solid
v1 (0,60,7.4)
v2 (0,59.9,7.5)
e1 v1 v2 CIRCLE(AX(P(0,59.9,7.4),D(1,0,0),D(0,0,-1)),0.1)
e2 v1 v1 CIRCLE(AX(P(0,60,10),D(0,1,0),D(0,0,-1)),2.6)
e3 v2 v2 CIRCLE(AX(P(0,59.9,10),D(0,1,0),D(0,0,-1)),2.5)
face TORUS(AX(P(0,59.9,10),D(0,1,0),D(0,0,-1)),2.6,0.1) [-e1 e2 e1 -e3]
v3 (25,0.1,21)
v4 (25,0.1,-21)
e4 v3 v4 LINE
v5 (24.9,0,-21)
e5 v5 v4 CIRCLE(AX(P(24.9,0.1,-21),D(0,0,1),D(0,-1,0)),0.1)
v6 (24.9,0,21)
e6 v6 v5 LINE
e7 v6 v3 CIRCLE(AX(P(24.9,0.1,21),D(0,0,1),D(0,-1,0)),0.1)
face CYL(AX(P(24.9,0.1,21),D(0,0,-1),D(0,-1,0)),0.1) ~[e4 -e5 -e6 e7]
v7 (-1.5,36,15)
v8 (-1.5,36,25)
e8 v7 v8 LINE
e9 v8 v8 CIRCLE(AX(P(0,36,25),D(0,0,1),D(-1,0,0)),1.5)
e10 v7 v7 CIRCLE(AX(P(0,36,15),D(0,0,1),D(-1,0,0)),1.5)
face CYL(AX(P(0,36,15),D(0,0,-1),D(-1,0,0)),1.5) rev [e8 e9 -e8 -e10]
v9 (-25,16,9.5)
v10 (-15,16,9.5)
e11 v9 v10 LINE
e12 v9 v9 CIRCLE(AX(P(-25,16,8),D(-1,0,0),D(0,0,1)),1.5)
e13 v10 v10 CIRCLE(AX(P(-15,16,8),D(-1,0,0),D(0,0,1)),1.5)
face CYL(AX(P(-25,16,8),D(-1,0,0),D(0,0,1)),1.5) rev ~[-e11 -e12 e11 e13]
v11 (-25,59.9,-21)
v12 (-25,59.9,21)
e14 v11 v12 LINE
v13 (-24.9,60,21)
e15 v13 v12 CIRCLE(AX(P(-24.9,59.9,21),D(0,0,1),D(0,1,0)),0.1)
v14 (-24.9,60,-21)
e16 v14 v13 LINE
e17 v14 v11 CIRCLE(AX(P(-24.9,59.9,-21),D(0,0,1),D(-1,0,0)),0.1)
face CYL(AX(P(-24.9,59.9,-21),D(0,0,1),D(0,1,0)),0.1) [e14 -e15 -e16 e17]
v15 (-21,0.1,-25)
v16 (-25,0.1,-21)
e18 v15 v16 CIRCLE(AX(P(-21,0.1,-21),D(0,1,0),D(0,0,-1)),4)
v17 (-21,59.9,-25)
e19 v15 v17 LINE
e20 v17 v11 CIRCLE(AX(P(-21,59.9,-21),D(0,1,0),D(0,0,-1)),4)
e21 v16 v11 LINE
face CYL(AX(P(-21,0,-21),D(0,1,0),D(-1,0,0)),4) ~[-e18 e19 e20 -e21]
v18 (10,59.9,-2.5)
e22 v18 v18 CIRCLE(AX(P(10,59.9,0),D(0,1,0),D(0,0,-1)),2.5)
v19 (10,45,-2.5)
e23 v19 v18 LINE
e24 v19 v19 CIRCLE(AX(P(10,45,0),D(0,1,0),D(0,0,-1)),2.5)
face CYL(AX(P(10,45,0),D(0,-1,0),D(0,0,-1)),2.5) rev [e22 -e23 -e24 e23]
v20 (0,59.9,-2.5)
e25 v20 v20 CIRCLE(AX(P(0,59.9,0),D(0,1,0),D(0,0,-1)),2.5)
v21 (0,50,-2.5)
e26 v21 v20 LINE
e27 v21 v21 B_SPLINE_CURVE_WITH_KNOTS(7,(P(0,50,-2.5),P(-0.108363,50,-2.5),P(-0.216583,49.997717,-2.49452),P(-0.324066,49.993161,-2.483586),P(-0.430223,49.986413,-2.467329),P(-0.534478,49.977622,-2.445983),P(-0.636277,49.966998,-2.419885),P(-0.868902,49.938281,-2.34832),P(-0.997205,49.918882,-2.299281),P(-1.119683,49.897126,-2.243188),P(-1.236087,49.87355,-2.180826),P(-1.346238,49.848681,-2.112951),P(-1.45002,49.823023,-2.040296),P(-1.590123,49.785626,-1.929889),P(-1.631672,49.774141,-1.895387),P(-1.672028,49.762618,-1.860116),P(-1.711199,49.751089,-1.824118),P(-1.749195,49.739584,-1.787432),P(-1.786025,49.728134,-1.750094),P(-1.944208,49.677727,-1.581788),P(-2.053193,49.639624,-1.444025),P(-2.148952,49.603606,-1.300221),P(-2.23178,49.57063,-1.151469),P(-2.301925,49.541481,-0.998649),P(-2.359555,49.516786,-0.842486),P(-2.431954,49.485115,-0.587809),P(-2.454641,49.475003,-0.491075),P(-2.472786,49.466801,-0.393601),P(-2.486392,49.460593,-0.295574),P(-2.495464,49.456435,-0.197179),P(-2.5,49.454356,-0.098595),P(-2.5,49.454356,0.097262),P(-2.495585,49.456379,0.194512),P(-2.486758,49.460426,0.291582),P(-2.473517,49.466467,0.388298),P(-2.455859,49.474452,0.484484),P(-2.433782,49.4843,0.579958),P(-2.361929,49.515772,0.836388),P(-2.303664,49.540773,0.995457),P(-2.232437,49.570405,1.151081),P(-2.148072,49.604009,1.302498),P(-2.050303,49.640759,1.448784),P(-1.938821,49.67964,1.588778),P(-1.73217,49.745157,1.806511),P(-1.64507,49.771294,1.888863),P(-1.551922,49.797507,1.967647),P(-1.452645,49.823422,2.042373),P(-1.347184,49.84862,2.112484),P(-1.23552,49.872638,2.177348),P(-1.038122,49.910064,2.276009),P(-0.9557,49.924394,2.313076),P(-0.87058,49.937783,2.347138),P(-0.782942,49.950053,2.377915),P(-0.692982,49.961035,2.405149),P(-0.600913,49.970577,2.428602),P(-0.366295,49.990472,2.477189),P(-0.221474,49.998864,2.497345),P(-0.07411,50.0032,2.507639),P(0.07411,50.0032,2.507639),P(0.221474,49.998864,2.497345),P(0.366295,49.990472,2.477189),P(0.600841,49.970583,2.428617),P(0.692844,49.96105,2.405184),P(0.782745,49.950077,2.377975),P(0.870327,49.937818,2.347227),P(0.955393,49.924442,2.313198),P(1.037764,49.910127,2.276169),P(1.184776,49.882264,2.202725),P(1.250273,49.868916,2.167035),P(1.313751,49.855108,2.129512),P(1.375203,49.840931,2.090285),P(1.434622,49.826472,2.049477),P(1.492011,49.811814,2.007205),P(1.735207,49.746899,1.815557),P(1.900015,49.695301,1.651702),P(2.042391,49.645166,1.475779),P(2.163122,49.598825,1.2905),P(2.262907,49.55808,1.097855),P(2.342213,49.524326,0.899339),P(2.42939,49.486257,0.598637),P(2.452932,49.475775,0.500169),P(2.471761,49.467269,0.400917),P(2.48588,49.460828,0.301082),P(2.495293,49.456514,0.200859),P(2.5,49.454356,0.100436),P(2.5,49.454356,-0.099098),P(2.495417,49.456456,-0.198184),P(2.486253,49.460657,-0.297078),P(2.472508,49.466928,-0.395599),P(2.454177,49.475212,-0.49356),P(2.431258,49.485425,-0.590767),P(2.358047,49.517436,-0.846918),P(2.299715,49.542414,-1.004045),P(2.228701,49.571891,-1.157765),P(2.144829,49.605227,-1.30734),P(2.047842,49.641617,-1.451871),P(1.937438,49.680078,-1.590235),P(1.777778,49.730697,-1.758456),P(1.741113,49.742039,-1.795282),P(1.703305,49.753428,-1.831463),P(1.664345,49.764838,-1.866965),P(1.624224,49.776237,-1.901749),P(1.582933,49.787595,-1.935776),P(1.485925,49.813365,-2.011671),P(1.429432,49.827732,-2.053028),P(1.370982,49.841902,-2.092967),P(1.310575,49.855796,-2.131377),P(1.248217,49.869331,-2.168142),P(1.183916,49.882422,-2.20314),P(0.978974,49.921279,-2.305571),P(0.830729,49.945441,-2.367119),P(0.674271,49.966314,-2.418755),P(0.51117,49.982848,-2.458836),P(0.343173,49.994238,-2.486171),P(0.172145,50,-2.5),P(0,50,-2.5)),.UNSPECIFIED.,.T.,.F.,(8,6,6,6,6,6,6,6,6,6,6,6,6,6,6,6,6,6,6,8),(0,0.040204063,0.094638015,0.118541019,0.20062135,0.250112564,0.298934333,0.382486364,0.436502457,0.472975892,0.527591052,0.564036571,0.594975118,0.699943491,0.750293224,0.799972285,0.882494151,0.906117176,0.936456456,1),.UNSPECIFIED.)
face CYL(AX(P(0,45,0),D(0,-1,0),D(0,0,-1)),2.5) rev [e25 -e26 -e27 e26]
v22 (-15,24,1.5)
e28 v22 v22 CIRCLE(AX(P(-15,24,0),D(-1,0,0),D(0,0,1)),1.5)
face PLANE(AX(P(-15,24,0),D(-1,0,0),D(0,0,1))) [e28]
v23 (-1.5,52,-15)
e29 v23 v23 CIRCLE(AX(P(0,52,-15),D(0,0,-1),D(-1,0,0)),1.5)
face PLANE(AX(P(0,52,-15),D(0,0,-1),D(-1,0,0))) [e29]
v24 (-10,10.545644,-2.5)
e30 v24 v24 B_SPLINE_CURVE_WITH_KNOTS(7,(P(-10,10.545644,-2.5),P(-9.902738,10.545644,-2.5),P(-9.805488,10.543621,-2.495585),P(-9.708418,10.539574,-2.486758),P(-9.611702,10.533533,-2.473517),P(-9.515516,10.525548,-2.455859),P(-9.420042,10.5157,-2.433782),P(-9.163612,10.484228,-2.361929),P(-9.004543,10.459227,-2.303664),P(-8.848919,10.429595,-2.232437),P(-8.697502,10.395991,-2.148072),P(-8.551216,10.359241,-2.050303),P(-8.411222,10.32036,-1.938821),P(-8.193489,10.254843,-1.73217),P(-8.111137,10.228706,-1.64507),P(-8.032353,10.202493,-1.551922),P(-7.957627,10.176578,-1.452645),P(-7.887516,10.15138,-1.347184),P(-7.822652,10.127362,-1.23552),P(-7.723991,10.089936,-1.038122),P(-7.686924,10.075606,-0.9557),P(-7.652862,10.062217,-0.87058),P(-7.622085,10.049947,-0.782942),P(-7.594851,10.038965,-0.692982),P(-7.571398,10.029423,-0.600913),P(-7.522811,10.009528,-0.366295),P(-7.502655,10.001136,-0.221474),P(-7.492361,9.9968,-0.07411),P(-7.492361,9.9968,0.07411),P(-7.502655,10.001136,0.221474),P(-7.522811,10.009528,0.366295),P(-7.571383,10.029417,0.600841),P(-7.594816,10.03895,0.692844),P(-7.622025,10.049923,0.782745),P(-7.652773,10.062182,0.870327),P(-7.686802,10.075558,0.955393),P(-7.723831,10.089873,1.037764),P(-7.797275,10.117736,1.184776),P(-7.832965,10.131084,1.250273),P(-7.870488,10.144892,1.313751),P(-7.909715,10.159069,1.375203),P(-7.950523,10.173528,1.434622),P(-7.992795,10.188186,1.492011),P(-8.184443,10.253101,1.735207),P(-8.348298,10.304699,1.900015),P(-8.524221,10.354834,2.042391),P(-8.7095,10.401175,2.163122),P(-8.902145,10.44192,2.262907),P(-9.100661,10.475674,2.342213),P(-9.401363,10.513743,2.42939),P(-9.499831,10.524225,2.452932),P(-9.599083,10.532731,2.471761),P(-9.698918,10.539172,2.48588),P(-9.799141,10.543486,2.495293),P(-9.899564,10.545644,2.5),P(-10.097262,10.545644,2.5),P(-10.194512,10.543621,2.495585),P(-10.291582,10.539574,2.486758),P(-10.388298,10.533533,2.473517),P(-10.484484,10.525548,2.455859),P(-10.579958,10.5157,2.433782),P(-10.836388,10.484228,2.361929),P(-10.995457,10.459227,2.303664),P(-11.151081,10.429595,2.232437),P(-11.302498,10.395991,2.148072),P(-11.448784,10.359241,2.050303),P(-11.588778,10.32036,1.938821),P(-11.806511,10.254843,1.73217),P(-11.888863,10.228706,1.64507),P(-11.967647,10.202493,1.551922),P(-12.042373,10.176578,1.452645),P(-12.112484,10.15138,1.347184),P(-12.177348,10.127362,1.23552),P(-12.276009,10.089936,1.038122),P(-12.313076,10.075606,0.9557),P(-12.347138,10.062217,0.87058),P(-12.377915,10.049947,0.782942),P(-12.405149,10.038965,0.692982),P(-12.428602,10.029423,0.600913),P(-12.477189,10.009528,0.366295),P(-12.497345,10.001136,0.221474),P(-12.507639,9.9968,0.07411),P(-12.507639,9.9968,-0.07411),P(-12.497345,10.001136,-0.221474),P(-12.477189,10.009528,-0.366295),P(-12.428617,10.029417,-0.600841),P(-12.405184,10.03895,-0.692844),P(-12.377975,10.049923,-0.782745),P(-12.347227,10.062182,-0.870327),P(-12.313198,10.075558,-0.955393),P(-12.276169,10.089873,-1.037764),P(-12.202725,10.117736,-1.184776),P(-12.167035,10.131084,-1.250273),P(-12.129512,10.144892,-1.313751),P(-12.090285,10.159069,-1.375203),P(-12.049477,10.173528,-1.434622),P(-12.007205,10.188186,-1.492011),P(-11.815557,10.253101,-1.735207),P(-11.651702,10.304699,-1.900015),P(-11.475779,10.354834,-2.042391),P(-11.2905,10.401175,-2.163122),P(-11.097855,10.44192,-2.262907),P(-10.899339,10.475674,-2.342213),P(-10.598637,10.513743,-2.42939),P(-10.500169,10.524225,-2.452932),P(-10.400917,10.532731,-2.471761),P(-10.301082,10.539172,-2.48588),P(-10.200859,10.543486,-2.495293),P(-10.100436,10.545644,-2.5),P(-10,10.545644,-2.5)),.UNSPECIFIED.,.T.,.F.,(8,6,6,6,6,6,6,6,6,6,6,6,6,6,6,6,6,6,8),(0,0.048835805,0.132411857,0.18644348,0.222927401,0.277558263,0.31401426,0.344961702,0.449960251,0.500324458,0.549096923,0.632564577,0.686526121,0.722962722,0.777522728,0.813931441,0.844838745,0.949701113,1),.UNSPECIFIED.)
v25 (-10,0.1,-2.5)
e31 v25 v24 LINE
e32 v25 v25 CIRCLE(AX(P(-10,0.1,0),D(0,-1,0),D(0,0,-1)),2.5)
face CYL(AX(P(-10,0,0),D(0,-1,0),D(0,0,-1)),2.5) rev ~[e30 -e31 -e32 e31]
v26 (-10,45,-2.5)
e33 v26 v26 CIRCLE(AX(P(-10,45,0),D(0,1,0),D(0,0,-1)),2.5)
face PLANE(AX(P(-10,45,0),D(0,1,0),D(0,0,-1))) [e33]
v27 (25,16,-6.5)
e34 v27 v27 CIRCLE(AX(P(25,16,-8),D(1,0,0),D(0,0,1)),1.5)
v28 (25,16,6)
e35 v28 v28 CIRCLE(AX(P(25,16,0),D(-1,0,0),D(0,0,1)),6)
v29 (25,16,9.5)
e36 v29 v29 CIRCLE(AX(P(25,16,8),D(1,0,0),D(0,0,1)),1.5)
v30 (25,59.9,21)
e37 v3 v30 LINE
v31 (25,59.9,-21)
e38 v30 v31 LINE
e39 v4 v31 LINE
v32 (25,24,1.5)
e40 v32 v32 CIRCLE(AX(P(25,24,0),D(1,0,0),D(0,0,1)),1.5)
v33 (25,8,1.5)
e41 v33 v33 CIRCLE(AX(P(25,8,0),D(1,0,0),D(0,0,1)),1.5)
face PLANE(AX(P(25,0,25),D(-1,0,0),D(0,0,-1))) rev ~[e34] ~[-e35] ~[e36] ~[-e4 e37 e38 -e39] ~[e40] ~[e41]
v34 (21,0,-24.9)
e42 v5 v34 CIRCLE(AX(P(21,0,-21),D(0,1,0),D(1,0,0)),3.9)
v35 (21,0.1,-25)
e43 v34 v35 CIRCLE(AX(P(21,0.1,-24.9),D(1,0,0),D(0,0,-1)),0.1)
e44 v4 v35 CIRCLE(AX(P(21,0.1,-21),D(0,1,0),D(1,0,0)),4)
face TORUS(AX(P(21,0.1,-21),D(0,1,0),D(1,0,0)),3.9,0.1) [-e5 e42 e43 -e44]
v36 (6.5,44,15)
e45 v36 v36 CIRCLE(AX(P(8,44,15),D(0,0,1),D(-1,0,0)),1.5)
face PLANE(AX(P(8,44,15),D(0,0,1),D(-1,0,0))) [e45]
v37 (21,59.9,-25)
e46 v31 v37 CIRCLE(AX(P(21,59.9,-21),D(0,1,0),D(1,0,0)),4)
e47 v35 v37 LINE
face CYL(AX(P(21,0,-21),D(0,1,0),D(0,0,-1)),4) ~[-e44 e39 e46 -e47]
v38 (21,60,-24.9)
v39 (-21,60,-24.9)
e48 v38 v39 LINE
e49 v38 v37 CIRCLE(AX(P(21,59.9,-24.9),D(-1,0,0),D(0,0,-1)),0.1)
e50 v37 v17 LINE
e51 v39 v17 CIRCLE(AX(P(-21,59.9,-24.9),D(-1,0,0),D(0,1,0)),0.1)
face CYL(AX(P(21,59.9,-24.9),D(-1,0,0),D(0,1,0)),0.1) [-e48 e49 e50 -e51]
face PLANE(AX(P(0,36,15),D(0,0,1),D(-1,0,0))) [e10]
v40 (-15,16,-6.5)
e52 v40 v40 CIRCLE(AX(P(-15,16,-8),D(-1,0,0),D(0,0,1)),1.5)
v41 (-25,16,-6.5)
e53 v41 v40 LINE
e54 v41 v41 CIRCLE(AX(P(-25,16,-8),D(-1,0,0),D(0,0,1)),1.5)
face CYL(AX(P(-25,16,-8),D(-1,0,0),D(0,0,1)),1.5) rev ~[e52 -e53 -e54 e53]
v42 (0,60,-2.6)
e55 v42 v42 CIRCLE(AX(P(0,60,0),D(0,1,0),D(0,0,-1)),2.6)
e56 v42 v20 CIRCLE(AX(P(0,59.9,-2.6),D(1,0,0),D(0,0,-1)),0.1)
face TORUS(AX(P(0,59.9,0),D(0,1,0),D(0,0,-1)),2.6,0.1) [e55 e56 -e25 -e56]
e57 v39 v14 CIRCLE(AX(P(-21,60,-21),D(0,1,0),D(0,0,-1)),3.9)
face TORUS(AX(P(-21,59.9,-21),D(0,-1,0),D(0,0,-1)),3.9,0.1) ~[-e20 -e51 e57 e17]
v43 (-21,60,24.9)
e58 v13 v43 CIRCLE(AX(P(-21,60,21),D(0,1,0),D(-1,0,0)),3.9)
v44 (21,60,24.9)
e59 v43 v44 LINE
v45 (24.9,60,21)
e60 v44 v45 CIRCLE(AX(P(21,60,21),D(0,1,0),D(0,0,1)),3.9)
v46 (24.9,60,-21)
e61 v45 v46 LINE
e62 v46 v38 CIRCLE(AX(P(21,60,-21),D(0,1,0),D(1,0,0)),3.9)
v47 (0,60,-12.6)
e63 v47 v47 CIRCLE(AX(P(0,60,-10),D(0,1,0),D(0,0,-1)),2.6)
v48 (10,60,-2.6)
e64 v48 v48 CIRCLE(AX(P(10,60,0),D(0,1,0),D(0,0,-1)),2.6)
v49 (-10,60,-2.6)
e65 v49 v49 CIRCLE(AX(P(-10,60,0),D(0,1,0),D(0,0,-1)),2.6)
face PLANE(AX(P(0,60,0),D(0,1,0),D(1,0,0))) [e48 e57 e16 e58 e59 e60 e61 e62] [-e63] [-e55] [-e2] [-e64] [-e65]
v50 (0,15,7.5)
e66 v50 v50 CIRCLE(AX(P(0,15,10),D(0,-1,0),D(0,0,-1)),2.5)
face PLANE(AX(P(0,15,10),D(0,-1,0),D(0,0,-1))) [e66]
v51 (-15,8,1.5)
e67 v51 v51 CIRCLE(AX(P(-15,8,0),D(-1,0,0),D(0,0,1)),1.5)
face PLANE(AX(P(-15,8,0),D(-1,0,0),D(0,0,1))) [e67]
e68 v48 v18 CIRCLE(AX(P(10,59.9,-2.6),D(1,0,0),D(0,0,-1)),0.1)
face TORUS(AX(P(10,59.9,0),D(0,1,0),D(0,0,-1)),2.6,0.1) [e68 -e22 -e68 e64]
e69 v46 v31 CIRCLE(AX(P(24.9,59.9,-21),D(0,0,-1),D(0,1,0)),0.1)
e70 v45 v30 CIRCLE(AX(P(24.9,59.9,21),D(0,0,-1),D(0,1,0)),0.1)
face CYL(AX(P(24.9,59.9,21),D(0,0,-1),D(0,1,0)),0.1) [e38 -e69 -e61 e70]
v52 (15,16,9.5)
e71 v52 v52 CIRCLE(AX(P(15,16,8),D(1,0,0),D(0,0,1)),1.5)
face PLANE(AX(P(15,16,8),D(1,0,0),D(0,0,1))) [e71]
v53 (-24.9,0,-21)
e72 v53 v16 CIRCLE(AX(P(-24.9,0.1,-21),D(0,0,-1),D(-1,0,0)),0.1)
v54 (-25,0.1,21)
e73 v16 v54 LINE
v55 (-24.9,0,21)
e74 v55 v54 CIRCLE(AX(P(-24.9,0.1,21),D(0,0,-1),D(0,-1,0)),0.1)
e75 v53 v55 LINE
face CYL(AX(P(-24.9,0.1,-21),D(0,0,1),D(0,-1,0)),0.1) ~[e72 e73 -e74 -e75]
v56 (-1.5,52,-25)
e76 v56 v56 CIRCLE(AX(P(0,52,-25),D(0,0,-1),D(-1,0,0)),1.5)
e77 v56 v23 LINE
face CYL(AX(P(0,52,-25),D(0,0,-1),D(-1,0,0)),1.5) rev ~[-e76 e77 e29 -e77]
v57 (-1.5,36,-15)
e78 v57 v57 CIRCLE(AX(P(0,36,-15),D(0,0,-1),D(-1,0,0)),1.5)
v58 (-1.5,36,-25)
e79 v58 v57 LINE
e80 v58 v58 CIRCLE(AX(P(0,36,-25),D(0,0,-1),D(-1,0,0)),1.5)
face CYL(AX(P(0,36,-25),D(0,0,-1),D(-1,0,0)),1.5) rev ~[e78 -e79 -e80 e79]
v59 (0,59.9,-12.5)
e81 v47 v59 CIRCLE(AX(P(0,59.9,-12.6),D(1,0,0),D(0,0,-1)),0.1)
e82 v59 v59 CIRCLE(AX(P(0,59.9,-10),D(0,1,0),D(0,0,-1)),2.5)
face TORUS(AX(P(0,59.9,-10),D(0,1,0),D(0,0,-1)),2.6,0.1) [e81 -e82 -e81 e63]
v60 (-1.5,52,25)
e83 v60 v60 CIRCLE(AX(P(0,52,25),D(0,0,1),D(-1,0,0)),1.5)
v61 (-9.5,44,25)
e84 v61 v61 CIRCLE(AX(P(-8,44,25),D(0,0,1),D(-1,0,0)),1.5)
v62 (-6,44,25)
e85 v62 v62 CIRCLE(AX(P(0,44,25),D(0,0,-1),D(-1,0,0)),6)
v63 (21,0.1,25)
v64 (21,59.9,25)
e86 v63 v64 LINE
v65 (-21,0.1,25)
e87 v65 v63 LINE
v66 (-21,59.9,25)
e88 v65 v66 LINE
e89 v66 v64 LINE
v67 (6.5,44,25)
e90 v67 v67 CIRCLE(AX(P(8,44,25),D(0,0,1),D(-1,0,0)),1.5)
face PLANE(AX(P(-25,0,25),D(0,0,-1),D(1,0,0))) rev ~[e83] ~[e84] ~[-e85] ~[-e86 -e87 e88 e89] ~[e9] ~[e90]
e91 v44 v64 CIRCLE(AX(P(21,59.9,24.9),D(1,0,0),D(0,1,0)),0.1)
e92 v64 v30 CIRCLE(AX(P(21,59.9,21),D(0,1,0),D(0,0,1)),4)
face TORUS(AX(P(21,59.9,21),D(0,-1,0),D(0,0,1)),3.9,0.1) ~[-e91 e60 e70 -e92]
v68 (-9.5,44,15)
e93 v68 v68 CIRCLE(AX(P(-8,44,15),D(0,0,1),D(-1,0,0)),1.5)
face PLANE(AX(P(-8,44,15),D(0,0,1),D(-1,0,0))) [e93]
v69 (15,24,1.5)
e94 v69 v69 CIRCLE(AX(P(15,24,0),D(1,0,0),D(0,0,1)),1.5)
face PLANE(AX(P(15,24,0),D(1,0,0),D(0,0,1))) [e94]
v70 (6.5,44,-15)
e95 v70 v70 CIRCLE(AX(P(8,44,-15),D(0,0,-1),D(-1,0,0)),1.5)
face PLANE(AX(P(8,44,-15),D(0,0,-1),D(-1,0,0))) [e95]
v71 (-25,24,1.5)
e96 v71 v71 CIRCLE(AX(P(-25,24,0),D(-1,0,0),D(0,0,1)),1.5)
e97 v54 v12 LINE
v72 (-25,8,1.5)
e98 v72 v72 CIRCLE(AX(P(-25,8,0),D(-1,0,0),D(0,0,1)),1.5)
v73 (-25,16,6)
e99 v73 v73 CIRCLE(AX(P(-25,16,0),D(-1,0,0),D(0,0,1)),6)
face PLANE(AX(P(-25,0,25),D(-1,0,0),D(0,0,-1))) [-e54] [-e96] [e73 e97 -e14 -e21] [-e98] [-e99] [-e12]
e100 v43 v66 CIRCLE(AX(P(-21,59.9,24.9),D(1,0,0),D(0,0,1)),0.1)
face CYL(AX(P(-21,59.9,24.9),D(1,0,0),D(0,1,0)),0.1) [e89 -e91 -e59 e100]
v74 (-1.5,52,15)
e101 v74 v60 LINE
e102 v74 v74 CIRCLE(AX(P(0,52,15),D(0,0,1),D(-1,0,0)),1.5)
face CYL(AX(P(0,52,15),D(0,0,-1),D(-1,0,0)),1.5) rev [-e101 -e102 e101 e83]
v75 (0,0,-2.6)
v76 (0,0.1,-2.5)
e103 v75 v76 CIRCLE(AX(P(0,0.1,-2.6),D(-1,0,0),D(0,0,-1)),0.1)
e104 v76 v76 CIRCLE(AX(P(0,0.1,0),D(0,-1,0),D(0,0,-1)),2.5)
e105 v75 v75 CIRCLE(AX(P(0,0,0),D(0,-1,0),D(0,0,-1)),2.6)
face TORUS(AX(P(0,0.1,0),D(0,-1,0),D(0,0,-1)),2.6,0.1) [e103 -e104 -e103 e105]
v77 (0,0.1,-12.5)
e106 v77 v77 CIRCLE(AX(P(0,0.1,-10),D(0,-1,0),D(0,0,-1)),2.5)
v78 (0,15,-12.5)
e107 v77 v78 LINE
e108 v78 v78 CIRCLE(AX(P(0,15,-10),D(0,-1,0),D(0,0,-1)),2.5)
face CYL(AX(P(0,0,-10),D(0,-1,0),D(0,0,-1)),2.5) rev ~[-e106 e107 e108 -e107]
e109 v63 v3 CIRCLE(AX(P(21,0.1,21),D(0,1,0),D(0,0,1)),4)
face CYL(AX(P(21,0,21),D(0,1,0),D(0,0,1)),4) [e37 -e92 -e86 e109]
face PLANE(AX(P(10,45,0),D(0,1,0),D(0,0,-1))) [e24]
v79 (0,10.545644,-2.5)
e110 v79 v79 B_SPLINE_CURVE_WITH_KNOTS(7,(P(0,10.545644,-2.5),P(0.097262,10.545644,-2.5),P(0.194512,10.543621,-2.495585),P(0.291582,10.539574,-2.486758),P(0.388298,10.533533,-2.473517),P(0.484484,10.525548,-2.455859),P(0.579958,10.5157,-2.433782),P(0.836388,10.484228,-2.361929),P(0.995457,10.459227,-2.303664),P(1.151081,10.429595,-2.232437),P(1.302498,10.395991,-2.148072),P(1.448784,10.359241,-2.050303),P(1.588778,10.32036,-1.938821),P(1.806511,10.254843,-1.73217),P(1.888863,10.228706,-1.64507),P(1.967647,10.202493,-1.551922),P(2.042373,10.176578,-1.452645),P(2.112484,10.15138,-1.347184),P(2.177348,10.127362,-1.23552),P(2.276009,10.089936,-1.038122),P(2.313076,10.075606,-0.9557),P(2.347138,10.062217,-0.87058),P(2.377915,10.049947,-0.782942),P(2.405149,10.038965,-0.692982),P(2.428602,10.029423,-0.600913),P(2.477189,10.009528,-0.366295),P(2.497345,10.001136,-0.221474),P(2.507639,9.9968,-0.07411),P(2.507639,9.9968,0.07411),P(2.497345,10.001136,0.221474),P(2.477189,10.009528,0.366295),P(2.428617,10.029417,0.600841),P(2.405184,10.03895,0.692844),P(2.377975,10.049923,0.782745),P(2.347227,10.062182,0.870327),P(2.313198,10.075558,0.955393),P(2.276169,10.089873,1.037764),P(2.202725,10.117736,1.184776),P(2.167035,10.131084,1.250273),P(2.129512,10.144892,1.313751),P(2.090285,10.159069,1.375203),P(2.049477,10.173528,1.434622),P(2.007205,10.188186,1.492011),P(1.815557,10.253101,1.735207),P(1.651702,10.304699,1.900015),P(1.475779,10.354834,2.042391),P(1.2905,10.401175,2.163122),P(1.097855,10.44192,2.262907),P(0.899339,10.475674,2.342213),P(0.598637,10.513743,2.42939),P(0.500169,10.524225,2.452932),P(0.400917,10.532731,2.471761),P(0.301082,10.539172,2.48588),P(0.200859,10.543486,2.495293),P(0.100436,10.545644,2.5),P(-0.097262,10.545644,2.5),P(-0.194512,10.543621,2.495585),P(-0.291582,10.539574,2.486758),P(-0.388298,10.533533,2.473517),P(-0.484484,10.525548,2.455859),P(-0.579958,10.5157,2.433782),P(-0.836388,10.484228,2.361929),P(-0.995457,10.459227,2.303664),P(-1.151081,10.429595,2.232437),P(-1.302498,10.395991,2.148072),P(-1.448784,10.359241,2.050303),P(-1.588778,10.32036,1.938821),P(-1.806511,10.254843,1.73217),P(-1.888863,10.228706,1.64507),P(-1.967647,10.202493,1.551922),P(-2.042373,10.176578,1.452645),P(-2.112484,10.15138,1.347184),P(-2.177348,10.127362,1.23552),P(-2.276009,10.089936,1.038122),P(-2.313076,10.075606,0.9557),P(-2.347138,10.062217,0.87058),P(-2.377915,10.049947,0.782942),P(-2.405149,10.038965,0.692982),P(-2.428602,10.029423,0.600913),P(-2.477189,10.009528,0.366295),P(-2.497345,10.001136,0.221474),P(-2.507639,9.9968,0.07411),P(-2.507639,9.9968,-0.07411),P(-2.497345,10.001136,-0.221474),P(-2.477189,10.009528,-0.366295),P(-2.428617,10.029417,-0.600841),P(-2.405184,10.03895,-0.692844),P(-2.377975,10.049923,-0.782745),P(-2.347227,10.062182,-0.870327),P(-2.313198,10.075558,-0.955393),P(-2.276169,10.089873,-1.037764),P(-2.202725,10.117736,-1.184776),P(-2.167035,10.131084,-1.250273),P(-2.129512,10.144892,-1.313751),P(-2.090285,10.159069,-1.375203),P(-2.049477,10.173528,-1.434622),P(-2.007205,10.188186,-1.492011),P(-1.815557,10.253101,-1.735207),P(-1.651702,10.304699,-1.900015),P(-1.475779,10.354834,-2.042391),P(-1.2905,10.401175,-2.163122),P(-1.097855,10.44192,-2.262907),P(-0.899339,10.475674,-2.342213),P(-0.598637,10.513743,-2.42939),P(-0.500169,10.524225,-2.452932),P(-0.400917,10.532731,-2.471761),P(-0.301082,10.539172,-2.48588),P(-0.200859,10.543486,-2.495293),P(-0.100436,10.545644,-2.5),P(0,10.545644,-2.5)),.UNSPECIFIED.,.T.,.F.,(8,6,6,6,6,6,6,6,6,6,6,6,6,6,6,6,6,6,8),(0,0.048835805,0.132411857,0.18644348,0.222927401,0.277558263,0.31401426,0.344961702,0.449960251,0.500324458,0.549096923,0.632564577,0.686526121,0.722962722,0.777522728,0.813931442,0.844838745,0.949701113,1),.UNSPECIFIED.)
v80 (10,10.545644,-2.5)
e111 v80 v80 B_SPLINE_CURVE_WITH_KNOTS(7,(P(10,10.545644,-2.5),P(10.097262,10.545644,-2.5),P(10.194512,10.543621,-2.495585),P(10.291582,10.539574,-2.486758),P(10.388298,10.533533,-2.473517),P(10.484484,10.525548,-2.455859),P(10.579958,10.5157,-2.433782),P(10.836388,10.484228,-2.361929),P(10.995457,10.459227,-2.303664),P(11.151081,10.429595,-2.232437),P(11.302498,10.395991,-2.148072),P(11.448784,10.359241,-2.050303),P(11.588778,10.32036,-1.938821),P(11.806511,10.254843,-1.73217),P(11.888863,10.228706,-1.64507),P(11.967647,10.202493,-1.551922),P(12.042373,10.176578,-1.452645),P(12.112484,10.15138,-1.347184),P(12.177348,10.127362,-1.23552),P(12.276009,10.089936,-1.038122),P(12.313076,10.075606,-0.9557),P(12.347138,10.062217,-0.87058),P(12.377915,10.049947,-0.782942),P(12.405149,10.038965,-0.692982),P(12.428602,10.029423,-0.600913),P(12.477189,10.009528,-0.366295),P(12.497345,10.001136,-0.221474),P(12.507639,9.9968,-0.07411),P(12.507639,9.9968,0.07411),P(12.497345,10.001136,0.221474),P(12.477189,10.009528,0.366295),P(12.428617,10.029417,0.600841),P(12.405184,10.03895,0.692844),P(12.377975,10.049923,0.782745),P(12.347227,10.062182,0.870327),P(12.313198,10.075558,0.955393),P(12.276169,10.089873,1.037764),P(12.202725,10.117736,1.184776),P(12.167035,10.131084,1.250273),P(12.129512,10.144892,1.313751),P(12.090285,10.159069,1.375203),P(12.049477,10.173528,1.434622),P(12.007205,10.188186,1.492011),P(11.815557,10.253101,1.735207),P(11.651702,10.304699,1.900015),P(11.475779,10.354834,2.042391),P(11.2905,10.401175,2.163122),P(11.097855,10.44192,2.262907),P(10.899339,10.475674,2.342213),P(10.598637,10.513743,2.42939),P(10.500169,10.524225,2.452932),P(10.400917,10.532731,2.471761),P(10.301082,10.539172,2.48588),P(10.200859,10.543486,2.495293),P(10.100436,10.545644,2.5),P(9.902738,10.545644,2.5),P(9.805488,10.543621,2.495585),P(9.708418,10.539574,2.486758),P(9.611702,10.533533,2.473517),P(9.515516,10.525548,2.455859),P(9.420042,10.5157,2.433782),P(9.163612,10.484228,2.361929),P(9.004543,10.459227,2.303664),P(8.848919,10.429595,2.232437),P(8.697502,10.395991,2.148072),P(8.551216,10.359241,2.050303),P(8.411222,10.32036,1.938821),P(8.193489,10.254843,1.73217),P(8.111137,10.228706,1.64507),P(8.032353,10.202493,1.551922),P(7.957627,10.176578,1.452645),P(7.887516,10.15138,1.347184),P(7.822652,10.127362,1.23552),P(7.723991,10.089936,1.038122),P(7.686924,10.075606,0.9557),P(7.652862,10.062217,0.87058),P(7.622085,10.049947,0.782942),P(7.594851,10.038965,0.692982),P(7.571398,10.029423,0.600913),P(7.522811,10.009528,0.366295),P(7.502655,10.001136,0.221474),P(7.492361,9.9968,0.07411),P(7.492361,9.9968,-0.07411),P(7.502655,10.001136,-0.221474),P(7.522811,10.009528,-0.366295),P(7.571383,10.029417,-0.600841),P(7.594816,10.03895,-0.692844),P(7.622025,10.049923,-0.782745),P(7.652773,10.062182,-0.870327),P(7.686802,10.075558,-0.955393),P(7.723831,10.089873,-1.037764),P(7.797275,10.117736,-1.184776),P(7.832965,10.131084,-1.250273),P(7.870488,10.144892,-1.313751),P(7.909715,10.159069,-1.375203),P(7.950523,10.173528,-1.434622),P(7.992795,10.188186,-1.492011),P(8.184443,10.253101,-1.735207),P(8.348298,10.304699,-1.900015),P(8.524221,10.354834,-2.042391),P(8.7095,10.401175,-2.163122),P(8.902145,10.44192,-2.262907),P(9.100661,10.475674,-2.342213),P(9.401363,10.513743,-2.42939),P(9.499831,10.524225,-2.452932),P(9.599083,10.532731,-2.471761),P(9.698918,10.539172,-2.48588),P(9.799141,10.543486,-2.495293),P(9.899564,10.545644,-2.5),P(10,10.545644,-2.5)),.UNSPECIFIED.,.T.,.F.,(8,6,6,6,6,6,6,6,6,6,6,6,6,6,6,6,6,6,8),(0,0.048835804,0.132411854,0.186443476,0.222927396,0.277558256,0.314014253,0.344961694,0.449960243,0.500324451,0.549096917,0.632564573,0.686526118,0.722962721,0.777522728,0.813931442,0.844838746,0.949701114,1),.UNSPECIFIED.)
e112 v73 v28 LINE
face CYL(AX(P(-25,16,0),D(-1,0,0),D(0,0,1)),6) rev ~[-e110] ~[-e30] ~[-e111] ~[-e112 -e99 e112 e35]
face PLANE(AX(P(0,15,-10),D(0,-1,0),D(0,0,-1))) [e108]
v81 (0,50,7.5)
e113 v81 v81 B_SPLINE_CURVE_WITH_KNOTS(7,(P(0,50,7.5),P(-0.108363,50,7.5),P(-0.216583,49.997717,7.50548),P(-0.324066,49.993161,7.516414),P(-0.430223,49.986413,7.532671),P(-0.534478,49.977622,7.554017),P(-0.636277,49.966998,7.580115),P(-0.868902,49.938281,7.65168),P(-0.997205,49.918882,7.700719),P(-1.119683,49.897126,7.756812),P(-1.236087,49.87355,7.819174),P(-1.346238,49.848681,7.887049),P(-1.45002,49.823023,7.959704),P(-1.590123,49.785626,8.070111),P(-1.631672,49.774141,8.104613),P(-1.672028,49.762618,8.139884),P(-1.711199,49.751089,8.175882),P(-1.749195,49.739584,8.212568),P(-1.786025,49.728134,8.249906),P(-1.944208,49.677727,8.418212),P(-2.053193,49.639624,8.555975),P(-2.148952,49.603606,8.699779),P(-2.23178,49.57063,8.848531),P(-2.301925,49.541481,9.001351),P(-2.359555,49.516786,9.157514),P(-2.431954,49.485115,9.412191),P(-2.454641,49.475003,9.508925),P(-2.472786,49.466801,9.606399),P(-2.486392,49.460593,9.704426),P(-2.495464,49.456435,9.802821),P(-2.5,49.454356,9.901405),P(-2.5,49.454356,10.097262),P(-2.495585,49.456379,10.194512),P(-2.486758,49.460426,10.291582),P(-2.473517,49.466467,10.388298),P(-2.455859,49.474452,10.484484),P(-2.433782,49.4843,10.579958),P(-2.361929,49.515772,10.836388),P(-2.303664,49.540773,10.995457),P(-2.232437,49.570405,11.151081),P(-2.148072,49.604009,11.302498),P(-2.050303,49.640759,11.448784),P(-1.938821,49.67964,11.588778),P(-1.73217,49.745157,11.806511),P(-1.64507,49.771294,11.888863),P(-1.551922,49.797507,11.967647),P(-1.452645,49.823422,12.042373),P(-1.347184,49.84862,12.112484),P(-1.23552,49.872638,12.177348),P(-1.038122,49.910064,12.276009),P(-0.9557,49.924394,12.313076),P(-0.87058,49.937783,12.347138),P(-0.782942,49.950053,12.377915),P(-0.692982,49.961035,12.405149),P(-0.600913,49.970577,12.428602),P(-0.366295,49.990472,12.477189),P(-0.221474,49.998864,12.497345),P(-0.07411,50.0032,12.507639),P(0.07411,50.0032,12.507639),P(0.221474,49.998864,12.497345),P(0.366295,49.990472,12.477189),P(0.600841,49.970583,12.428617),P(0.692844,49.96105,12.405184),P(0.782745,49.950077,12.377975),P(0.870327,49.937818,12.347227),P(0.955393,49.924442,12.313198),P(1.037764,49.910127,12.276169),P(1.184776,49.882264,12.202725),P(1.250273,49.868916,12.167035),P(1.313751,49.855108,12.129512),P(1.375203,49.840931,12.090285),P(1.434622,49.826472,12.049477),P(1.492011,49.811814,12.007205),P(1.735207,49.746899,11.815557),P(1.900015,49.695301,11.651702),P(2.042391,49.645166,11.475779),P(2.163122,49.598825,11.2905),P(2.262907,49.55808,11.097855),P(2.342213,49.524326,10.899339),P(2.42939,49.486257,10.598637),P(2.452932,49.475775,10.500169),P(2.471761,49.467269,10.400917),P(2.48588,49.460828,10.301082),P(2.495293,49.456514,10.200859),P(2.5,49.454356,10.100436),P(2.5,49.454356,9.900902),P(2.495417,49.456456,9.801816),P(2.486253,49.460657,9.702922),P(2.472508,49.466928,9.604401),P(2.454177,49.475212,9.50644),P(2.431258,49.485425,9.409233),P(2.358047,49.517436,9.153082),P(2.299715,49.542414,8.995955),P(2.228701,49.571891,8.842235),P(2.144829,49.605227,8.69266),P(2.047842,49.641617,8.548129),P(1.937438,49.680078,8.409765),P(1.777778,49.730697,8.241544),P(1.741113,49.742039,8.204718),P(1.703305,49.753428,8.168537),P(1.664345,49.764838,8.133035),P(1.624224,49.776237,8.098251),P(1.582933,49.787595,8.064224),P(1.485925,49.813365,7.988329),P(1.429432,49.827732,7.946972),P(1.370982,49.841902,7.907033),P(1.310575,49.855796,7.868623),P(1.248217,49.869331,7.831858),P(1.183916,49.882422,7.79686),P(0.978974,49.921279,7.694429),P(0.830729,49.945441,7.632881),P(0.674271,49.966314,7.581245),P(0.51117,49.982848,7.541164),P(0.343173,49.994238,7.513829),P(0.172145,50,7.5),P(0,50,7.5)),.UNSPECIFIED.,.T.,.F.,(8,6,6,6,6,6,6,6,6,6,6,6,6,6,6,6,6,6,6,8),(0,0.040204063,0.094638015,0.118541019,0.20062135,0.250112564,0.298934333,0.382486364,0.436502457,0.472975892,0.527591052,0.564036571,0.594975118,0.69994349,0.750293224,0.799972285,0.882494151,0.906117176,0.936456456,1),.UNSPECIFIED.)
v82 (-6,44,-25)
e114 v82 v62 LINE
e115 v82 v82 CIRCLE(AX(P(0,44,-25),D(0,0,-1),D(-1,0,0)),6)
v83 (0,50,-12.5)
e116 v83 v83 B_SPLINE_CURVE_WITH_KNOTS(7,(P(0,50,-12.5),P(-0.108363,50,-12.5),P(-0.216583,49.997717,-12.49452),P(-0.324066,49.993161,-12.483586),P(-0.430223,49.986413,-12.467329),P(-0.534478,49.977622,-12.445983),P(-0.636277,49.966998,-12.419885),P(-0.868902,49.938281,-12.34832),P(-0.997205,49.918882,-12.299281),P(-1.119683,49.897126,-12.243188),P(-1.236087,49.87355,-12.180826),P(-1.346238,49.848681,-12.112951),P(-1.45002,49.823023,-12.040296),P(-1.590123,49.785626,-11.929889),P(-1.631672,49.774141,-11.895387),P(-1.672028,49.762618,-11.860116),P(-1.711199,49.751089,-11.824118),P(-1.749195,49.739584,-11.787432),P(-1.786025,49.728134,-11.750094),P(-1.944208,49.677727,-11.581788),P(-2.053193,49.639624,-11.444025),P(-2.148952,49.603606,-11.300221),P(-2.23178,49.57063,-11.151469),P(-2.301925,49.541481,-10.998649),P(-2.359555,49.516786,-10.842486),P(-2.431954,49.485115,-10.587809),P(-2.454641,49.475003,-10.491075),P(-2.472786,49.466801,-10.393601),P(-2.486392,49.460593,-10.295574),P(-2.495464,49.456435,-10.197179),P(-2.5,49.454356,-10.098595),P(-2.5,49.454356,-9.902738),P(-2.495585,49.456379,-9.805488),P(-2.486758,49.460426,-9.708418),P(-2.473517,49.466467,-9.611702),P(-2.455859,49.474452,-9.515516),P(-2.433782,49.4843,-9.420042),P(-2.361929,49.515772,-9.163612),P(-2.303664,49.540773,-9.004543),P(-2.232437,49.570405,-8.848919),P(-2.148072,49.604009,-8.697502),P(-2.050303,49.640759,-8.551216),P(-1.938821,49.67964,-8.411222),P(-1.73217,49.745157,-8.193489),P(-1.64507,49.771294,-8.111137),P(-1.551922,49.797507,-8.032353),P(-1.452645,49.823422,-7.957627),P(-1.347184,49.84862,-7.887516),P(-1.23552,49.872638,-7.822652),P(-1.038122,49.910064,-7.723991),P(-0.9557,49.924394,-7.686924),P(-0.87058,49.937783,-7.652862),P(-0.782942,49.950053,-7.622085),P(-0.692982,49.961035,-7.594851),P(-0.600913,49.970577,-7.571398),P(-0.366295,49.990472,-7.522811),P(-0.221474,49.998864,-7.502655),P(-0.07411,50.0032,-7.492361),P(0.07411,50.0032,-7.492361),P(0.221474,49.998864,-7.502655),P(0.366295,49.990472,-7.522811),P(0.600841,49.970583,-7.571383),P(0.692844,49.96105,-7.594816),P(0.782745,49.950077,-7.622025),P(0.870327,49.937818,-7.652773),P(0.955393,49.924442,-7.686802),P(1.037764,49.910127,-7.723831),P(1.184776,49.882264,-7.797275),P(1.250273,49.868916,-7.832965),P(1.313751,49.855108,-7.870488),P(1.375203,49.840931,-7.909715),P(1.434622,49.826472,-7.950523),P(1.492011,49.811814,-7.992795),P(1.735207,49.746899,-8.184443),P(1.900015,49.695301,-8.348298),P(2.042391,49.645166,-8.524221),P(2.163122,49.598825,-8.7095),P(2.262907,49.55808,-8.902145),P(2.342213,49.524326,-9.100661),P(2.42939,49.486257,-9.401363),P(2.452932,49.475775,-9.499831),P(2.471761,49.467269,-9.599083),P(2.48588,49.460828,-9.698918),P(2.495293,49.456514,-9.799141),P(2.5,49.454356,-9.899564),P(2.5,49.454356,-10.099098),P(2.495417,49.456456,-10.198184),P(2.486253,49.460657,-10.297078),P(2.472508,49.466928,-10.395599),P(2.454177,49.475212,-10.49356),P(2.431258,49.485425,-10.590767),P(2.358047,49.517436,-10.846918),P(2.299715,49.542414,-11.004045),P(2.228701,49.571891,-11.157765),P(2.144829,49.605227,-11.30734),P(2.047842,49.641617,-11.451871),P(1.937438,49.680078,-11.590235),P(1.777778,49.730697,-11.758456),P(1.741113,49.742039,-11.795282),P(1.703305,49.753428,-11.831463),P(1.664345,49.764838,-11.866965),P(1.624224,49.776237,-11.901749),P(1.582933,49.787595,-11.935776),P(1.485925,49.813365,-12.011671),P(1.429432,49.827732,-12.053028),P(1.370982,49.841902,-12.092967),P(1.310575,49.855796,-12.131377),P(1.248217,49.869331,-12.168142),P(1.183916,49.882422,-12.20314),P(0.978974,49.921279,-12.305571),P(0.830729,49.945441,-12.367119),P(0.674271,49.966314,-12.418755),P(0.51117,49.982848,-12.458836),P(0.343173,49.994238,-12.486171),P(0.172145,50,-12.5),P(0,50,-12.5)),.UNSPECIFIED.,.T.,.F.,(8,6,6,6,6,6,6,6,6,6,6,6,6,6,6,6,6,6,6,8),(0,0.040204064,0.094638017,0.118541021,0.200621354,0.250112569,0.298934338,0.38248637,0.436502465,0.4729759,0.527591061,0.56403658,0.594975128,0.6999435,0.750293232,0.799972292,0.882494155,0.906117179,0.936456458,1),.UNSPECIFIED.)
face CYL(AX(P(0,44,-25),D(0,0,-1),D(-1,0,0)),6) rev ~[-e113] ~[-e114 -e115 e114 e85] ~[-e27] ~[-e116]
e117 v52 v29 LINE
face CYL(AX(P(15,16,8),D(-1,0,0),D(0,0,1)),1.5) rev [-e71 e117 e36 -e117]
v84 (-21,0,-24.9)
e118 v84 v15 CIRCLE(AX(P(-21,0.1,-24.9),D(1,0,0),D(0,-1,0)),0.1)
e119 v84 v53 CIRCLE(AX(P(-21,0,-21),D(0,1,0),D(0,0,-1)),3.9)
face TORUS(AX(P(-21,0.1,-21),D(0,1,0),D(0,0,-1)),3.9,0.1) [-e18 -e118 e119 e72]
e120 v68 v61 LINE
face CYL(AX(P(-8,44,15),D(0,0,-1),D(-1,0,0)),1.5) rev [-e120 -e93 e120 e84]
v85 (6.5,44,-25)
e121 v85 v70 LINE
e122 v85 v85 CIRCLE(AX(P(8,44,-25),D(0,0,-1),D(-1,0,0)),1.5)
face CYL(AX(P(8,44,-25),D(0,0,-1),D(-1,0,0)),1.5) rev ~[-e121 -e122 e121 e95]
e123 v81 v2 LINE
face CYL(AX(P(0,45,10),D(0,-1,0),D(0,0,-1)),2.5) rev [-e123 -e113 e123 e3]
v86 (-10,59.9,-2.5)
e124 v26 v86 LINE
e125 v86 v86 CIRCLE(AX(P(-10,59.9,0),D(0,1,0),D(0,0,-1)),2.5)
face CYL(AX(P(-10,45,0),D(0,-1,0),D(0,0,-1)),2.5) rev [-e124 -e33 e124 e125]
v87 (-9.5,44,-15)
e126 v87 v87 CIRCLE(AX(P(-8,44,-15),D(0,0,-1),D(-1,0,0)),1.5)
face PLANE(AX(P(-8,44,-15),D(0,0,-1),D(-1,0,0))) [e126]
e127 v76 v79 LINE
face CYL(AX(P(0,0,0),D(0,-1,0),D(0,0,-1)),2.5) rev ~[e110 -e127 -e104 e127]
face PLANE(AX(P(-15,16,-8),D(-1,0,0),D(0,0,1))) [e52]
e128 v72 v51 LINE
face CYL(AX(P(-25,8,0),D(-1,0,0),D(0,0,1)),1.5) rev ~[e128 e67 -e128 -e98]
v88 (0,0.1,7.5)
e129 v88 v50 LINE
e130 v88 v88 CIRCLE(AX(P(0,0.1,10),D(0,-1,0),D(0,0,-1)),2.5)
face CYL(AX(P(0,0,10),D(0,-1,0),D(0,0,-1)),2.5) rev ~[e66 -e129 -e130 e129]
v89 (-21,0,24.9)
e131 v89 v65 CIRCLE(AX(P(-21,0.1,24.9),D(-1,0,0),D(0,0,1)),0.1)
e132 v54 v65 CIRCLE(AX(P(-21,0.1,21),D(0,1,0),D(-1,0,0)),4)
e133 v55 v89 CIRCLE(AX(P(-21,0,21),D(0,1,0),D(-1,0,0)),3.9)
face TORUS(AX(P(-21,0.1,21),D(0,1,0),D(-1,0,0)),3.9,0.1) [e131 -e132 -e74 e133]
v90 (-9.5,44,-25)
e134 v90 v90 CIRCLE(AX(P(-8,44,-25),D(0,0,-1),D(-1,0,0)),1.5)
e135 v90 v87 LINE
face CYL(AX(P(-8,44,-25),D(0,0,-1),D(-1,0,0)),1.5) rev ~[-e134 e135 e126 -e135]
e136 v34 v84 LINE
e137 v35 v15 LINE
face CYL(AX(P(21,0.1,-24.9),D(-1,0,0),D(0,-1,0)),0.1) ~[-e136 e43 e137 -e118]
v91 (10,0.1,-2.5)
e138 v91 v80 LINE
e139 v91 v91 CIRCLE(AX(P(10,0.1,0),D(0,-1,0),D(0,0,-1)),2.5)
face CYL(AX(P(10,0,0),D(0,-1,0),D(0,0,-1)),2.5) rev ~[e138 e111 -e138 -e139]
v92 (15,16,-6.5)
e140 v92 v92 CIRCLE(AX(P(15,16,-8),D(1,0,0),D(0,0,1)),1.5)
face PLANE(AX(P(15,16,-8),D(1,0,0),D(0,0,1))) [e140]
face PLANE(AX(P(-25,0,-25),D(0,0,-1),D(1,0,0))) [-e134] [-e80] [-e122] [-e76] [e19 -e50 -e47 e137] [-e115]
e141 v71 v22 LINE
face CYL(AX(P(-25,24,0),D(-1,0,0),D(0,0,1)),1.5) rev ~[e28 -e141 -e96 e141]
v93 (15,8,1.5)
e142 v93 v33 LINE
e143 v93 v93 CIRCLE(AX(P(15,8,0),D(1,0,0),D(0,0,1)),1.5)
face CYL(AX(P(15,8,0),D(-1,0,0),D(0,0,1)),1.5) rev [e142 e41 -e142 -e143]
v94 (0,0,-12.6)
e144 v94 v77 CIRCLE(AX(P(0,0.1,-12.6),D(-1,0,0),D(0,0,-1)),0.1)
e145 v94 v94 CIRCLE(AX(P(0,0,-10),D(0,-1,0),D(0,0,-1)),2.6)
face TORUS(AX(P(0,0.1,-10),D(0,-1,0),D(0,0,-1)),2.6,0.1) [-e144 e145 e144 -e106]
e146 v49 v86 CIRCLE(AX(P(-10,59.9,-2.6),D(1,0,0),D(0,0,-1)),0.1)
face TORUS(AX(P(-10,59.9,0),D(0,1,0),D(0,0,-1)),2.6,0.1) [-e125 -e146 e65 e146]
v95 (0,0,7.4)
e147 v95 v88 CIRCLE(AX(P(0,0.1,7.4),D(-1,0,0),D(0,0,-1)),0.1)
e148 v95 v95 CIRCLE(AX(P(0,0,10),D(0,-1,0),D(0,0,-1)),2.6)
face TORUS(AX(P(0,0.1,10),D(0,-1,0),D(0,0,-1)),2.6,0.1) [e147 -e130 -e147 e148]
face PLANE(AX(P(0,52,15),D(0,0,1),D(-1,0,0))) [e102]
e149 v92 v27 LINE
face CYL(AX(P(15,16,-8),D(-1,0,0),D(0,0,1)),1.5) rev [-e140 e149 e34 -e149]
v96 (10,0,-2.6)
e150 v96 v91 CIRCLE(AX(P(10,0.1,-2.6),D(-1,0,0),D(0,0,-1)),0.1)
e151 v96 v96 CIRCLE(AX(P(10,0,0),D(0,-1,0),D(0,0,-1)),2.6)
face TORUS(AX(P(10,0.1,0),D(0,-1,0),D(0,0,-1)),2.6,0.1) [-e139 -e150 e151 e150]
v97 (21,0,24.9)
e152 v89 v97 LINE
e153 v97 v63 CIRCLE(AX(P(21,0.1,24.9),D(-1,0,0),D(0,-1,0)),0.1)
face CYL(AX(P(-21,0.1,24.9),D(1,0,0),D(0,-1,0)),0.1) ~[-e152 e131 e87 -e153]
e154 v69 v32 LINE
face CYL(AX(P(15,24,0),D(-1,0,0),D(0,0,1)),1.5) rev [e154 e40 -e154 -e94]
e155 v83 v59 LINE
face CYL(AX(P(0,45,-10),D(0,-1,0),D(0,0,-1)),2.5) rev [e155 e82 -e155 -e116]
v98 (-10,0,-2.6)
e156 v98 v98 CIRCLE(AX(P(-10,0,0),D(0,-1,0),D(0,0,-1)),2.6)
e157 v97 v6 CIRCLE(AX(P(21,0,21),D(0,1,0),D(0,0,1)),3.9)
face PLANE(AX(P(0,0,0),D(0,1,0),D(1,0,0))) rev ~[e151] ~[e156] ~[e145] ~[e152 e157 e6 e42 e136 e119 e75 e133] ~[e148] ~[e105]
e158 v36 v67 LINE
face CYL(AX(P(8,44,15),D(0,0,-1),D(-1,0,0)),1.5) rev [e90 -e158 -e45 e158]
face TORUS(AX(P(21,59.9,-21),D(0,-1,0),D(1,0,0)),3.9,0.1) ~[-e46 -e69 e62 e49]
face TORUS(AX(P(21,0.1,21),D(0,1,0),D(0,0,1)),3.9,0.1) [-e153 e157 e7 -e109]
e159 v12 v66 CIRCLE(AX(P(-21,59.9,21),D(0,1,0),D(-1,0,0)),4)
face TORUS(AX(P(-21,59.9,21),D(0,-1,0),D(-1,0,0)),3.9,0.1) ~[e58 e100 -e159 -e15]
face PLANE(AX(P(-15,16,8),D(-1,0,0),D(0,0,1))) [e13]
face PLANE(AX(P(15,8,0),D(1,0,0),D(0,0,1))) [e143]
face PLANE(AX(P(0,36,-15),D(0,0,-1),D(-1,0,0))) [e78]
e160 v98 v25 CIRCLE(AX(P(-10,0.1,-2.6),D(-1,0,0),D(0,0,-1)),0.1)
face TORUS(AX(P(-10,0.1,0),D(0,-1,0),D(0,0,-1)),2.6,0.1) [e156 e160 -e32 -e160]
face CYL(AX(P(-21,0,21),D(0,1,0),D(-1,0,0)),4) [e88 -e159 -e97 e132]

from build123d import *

# Parameters (mm, degrees)
SKETCH1_W           = 50
SKETCH1_H           = 50
BOSS_EXTRUDE1_DEPTH = 60
SKETCH2_R           = 2.5
CUT_EXTRUDE1_DEPTH  = 15
CUT_EXTRUDE6_START  = -15
SKETCH9_R           = 2.5
CUT_EXTRUDE6_DEPTH  = 15
CUT_EXTRUDE2_REACH  = 84.006
SKETCH4_R           = 6
SKETCH10_R          = 6
CUT_EXTRUDE7_DEPTH  = 83.006097365
SKETCH5_R           = 1.5
CUT_EXTRUDE3_DEPTH  = 10
SKETCH11_R          = 1.5
CUT_EXTRUDE8_DEPTH  = 10
CUT_EXTRUDE4_START  = -10
SKETCH6_R           = 1.5
CUT_EXTRUDE4_DEPTH  = 10
CUT_EXTRUDE9_START  = -10
SKETCH12_R          = 1.5
CUT_EXTRUDE9_DEPTH  = 10
FILLET1_R           = 4
FILLET2_R           = 0.1


with BuildPart() as part:
    # Sketch1 → Boss-Extrude1 (new body)
    with BuildSketch(Plane(origin=(0, 0, 0), x_dir=(1, 0, 0), z_dir=(0, 1, 0))):
        Rectangle(SKETCH1_W, SKETCH1_H)
    extrude(amount=BOSS_EXTRUDE1_DEPTH)

    # Sketch2 → Cut-Extrude1 (cut)
    with BuildSketch(Plane.XZ):
        with Locations(Location((0, 10, 0), (0, 0, 270))):
            Circle(SKETCH2_R)
        with Locations(Location((0, -10, 0), (0, 0, 270))):
            Circle(SKETCH2_R)
        with Locations(Location((10, 0, 0), (0, 0, 270))):
            Circle(SKETCH2_R)
        with Locations(Location((-10, 0, 0), (0, 0, 270))):
            Circle(SKETCH2_R)
        with Locations(Location((0, 0, 0), (0, 0, 270))):
            Circle(SKETCH2_R)
    extrude(amount=-CUT_EXTRUDE1_DEPTH, mode=Mode.SUBTRACT)

    # Sketch9 → Cut-Extrude6 (cut)
    with BuildSketch(Plane(origin=(0, 60, 0), x_dir=(1, 0, 0), z_dir=(0, 1, 0)).offset(CUT_EXTRUDE6_START)):
        with Locations(Location((0, 10, 0), (0, 0, 90))):
            Circle(SKETCH9_R)
        with Locations(Location((0, -10, 0), (0, 0, 90))):
            Circle(SKETCH9_R)
        with Locations(Location((10, 0, 0), (0, 0, 90))):
            Circle(SKETCH9_R)
        with Locations(Location((-10, 0, 0), (0, 0, 90))):
            Circle(SKETCH9_R)
        with Locations(Location((0, 0, 0), (0, 0, 90))):
            Circle(SKETCH9_R)
    extrude(amount=CUT_EXTRUDE6_DEPTH, mode=Mode.SUBTRACT)

    # Sketch4 → Cut-Extrude2 (cut, up to next)
    with BuildSketch(Plane.ZY.offset(25), mode=Mode.PRIVATE) as cut_extrude2_sk1:
        with Locations((0, 16)):
            Circle(SKETCH4_R)
    cut_extrude2_tool1 = extrude(cut_extrude2_sk1.sketch, amount=-CUT_EXTRUDE2_REACH, mode=Mode.PRIVATE) & part.part
    add(cut_extrude2_tool1.solids().sort_by_distance((-25, 16, 0))[0], mode=Mode.SUBTRACT)

    # Sketch10 → Cut-Extrude7 (cut, through all)
    with BuildSketch(Plane(origin=(0, 0, -25), x_dir=(-1, 0, 0), z_dir=(0, 0, -1))):
        with Locations((0, 44)):
            Circle(SKETCH10_R)
    extrude(amount=-CUT_EXTRUDE7_DEPTH, mode=Mode.SUBTRACT)

    # Sketch5 → Cut-Extrude3 (cut)
    with BuildSketch(Plane.ZY.offset(25)):
        with Locations((-8, 16)):
            Circle(SKETCH5_R)
        with Locations((8, 16)):
            Circle(SKETCH5_R)
        with Locations((0, 8)):
            Circle(SKETCH5_R)
        with Locations((0, 24)):
            Circle(SKETCH5_R)
    extrude(amount=-CUT_EXTRUDE3_DEPTH, mode=Mode.SUBTRACT)

    # Sketch11 → Cut-Extrude8 (cut)
    with BuildSketch(Plane(origin=(0, 0, -25), x_dir=(-1, 0, 0), z_dir=(0, 0, -1))):
        with Locations((-8, 44)):
            Circle(SKETCH11_R)
        with Locations((8, 44)):
            Circle(SKETCH11_R)
        with Locations((0, 36)):
            Circle(SKETCH11_R)
        with Locations((0, 52)):
            Circle(SKETCH11_R)
    extrude(amount=-CUT_EXTRUDE8_DEPTH, mode=Mode.SUBTRACT)

    # Sketch6 → Cut-Extrude4 (cut)
    with BuildSketch(Plane(origin=(25, 0, 0), x_dir=(0, 0, -1), z_dir=(1, 0, 0)).offset(CUT_EXTRUDE4_START)):
        with Locations(Location((-8, 16, 0), (0, 0, 180))):
            Circle(SKETCH6_R)
        with Locations(Location((8, 16, 0), (0, 0, 180))):
            Circle(SKETCH6_R)
        with Locations(Location((0, 24, 0), (0, 0, 180))):
            Circle(SKETCH6_R)
        with Locations(Location((0, 8, 0), (0, 0, 180))):
            Circle(SKETCH6_R)
    extrude(amount=CUT_EXTRUDE4_DEPTH, mode=Mode.SUBTRACT)

    # Sketch12 → Cut-Extrude9 (cut)
    with BuildSketch(Plane.XY.offset(25).offset(CUT_EXTRUDE9_START)):
        with Locations(Location((-8, 44, 0), (0, 0, 180))):
            Circle(SKETCH12_R)
        with Locations(Location((8, 44, 0), (0, 0, 180))):
            Circle(SKETCH12_R)
        with Locations(Location((0, 36, 0), (0, 0, 180))):
            Circle(SKETCH12_R)
        with Locations(Location((0, 52, 0), (0, 0, 180))):
            Circle(SKETCH12_R)
    extrude(amount=CUT_EXTRUDE9_DEPTH, mode=Mode.SUBTRACT)

    # Fillet1
    fillet1_edges = [part.edges().sort_by_distance(p)[0] for p in [
        (25, 30, 25),
        (-25, 30, 25),
        (-25, 30, -25),
        (25, 30, -25),
    ]]
    fillet(fillet1_edges, radius=FILLET1_R)

    # Fillet2
    fillet2_edges = [part.edges().sort_by_distance(p)[0] for p in [
        (25, 0, 0),
        (25, 60, 0),
        (0, 0, 25),
        (-25, 0, 0),
        (0, 0, -25),
        (23.828427125, 0, -23.828427125),
        (-23.828427125, 0, -23.828427125),
        (-23.828427125, 0, 23.828427125),
        (23.828427125, 0, 23.828427125),
        (0, 60, 25),
        (0, 60, -25),
        (-25, 60, 0),
        (23.828427125, 60, -23.828427125),
        (-23.828427125, 60, -23.828427125),
        (-23.828427125, 60, 23.828427125),
        (23.828427125, 60, 23.828427125),
        (0, 0, 12.5),
        (0, 0, 2.5),
        (-10, 0, 2.5),
        (10, 0, 2.5),
        (0, 0, -7.5),
        (0, 60, -7.5),
        (0, 60, 2.5),
        (-10, 60, 2.5),
        (10, 60, 2.5),
        (0, 60, 12.5),
    ]]
    fillet(fillet2_edges, radius=FILLET2_R)


solid = part.part
